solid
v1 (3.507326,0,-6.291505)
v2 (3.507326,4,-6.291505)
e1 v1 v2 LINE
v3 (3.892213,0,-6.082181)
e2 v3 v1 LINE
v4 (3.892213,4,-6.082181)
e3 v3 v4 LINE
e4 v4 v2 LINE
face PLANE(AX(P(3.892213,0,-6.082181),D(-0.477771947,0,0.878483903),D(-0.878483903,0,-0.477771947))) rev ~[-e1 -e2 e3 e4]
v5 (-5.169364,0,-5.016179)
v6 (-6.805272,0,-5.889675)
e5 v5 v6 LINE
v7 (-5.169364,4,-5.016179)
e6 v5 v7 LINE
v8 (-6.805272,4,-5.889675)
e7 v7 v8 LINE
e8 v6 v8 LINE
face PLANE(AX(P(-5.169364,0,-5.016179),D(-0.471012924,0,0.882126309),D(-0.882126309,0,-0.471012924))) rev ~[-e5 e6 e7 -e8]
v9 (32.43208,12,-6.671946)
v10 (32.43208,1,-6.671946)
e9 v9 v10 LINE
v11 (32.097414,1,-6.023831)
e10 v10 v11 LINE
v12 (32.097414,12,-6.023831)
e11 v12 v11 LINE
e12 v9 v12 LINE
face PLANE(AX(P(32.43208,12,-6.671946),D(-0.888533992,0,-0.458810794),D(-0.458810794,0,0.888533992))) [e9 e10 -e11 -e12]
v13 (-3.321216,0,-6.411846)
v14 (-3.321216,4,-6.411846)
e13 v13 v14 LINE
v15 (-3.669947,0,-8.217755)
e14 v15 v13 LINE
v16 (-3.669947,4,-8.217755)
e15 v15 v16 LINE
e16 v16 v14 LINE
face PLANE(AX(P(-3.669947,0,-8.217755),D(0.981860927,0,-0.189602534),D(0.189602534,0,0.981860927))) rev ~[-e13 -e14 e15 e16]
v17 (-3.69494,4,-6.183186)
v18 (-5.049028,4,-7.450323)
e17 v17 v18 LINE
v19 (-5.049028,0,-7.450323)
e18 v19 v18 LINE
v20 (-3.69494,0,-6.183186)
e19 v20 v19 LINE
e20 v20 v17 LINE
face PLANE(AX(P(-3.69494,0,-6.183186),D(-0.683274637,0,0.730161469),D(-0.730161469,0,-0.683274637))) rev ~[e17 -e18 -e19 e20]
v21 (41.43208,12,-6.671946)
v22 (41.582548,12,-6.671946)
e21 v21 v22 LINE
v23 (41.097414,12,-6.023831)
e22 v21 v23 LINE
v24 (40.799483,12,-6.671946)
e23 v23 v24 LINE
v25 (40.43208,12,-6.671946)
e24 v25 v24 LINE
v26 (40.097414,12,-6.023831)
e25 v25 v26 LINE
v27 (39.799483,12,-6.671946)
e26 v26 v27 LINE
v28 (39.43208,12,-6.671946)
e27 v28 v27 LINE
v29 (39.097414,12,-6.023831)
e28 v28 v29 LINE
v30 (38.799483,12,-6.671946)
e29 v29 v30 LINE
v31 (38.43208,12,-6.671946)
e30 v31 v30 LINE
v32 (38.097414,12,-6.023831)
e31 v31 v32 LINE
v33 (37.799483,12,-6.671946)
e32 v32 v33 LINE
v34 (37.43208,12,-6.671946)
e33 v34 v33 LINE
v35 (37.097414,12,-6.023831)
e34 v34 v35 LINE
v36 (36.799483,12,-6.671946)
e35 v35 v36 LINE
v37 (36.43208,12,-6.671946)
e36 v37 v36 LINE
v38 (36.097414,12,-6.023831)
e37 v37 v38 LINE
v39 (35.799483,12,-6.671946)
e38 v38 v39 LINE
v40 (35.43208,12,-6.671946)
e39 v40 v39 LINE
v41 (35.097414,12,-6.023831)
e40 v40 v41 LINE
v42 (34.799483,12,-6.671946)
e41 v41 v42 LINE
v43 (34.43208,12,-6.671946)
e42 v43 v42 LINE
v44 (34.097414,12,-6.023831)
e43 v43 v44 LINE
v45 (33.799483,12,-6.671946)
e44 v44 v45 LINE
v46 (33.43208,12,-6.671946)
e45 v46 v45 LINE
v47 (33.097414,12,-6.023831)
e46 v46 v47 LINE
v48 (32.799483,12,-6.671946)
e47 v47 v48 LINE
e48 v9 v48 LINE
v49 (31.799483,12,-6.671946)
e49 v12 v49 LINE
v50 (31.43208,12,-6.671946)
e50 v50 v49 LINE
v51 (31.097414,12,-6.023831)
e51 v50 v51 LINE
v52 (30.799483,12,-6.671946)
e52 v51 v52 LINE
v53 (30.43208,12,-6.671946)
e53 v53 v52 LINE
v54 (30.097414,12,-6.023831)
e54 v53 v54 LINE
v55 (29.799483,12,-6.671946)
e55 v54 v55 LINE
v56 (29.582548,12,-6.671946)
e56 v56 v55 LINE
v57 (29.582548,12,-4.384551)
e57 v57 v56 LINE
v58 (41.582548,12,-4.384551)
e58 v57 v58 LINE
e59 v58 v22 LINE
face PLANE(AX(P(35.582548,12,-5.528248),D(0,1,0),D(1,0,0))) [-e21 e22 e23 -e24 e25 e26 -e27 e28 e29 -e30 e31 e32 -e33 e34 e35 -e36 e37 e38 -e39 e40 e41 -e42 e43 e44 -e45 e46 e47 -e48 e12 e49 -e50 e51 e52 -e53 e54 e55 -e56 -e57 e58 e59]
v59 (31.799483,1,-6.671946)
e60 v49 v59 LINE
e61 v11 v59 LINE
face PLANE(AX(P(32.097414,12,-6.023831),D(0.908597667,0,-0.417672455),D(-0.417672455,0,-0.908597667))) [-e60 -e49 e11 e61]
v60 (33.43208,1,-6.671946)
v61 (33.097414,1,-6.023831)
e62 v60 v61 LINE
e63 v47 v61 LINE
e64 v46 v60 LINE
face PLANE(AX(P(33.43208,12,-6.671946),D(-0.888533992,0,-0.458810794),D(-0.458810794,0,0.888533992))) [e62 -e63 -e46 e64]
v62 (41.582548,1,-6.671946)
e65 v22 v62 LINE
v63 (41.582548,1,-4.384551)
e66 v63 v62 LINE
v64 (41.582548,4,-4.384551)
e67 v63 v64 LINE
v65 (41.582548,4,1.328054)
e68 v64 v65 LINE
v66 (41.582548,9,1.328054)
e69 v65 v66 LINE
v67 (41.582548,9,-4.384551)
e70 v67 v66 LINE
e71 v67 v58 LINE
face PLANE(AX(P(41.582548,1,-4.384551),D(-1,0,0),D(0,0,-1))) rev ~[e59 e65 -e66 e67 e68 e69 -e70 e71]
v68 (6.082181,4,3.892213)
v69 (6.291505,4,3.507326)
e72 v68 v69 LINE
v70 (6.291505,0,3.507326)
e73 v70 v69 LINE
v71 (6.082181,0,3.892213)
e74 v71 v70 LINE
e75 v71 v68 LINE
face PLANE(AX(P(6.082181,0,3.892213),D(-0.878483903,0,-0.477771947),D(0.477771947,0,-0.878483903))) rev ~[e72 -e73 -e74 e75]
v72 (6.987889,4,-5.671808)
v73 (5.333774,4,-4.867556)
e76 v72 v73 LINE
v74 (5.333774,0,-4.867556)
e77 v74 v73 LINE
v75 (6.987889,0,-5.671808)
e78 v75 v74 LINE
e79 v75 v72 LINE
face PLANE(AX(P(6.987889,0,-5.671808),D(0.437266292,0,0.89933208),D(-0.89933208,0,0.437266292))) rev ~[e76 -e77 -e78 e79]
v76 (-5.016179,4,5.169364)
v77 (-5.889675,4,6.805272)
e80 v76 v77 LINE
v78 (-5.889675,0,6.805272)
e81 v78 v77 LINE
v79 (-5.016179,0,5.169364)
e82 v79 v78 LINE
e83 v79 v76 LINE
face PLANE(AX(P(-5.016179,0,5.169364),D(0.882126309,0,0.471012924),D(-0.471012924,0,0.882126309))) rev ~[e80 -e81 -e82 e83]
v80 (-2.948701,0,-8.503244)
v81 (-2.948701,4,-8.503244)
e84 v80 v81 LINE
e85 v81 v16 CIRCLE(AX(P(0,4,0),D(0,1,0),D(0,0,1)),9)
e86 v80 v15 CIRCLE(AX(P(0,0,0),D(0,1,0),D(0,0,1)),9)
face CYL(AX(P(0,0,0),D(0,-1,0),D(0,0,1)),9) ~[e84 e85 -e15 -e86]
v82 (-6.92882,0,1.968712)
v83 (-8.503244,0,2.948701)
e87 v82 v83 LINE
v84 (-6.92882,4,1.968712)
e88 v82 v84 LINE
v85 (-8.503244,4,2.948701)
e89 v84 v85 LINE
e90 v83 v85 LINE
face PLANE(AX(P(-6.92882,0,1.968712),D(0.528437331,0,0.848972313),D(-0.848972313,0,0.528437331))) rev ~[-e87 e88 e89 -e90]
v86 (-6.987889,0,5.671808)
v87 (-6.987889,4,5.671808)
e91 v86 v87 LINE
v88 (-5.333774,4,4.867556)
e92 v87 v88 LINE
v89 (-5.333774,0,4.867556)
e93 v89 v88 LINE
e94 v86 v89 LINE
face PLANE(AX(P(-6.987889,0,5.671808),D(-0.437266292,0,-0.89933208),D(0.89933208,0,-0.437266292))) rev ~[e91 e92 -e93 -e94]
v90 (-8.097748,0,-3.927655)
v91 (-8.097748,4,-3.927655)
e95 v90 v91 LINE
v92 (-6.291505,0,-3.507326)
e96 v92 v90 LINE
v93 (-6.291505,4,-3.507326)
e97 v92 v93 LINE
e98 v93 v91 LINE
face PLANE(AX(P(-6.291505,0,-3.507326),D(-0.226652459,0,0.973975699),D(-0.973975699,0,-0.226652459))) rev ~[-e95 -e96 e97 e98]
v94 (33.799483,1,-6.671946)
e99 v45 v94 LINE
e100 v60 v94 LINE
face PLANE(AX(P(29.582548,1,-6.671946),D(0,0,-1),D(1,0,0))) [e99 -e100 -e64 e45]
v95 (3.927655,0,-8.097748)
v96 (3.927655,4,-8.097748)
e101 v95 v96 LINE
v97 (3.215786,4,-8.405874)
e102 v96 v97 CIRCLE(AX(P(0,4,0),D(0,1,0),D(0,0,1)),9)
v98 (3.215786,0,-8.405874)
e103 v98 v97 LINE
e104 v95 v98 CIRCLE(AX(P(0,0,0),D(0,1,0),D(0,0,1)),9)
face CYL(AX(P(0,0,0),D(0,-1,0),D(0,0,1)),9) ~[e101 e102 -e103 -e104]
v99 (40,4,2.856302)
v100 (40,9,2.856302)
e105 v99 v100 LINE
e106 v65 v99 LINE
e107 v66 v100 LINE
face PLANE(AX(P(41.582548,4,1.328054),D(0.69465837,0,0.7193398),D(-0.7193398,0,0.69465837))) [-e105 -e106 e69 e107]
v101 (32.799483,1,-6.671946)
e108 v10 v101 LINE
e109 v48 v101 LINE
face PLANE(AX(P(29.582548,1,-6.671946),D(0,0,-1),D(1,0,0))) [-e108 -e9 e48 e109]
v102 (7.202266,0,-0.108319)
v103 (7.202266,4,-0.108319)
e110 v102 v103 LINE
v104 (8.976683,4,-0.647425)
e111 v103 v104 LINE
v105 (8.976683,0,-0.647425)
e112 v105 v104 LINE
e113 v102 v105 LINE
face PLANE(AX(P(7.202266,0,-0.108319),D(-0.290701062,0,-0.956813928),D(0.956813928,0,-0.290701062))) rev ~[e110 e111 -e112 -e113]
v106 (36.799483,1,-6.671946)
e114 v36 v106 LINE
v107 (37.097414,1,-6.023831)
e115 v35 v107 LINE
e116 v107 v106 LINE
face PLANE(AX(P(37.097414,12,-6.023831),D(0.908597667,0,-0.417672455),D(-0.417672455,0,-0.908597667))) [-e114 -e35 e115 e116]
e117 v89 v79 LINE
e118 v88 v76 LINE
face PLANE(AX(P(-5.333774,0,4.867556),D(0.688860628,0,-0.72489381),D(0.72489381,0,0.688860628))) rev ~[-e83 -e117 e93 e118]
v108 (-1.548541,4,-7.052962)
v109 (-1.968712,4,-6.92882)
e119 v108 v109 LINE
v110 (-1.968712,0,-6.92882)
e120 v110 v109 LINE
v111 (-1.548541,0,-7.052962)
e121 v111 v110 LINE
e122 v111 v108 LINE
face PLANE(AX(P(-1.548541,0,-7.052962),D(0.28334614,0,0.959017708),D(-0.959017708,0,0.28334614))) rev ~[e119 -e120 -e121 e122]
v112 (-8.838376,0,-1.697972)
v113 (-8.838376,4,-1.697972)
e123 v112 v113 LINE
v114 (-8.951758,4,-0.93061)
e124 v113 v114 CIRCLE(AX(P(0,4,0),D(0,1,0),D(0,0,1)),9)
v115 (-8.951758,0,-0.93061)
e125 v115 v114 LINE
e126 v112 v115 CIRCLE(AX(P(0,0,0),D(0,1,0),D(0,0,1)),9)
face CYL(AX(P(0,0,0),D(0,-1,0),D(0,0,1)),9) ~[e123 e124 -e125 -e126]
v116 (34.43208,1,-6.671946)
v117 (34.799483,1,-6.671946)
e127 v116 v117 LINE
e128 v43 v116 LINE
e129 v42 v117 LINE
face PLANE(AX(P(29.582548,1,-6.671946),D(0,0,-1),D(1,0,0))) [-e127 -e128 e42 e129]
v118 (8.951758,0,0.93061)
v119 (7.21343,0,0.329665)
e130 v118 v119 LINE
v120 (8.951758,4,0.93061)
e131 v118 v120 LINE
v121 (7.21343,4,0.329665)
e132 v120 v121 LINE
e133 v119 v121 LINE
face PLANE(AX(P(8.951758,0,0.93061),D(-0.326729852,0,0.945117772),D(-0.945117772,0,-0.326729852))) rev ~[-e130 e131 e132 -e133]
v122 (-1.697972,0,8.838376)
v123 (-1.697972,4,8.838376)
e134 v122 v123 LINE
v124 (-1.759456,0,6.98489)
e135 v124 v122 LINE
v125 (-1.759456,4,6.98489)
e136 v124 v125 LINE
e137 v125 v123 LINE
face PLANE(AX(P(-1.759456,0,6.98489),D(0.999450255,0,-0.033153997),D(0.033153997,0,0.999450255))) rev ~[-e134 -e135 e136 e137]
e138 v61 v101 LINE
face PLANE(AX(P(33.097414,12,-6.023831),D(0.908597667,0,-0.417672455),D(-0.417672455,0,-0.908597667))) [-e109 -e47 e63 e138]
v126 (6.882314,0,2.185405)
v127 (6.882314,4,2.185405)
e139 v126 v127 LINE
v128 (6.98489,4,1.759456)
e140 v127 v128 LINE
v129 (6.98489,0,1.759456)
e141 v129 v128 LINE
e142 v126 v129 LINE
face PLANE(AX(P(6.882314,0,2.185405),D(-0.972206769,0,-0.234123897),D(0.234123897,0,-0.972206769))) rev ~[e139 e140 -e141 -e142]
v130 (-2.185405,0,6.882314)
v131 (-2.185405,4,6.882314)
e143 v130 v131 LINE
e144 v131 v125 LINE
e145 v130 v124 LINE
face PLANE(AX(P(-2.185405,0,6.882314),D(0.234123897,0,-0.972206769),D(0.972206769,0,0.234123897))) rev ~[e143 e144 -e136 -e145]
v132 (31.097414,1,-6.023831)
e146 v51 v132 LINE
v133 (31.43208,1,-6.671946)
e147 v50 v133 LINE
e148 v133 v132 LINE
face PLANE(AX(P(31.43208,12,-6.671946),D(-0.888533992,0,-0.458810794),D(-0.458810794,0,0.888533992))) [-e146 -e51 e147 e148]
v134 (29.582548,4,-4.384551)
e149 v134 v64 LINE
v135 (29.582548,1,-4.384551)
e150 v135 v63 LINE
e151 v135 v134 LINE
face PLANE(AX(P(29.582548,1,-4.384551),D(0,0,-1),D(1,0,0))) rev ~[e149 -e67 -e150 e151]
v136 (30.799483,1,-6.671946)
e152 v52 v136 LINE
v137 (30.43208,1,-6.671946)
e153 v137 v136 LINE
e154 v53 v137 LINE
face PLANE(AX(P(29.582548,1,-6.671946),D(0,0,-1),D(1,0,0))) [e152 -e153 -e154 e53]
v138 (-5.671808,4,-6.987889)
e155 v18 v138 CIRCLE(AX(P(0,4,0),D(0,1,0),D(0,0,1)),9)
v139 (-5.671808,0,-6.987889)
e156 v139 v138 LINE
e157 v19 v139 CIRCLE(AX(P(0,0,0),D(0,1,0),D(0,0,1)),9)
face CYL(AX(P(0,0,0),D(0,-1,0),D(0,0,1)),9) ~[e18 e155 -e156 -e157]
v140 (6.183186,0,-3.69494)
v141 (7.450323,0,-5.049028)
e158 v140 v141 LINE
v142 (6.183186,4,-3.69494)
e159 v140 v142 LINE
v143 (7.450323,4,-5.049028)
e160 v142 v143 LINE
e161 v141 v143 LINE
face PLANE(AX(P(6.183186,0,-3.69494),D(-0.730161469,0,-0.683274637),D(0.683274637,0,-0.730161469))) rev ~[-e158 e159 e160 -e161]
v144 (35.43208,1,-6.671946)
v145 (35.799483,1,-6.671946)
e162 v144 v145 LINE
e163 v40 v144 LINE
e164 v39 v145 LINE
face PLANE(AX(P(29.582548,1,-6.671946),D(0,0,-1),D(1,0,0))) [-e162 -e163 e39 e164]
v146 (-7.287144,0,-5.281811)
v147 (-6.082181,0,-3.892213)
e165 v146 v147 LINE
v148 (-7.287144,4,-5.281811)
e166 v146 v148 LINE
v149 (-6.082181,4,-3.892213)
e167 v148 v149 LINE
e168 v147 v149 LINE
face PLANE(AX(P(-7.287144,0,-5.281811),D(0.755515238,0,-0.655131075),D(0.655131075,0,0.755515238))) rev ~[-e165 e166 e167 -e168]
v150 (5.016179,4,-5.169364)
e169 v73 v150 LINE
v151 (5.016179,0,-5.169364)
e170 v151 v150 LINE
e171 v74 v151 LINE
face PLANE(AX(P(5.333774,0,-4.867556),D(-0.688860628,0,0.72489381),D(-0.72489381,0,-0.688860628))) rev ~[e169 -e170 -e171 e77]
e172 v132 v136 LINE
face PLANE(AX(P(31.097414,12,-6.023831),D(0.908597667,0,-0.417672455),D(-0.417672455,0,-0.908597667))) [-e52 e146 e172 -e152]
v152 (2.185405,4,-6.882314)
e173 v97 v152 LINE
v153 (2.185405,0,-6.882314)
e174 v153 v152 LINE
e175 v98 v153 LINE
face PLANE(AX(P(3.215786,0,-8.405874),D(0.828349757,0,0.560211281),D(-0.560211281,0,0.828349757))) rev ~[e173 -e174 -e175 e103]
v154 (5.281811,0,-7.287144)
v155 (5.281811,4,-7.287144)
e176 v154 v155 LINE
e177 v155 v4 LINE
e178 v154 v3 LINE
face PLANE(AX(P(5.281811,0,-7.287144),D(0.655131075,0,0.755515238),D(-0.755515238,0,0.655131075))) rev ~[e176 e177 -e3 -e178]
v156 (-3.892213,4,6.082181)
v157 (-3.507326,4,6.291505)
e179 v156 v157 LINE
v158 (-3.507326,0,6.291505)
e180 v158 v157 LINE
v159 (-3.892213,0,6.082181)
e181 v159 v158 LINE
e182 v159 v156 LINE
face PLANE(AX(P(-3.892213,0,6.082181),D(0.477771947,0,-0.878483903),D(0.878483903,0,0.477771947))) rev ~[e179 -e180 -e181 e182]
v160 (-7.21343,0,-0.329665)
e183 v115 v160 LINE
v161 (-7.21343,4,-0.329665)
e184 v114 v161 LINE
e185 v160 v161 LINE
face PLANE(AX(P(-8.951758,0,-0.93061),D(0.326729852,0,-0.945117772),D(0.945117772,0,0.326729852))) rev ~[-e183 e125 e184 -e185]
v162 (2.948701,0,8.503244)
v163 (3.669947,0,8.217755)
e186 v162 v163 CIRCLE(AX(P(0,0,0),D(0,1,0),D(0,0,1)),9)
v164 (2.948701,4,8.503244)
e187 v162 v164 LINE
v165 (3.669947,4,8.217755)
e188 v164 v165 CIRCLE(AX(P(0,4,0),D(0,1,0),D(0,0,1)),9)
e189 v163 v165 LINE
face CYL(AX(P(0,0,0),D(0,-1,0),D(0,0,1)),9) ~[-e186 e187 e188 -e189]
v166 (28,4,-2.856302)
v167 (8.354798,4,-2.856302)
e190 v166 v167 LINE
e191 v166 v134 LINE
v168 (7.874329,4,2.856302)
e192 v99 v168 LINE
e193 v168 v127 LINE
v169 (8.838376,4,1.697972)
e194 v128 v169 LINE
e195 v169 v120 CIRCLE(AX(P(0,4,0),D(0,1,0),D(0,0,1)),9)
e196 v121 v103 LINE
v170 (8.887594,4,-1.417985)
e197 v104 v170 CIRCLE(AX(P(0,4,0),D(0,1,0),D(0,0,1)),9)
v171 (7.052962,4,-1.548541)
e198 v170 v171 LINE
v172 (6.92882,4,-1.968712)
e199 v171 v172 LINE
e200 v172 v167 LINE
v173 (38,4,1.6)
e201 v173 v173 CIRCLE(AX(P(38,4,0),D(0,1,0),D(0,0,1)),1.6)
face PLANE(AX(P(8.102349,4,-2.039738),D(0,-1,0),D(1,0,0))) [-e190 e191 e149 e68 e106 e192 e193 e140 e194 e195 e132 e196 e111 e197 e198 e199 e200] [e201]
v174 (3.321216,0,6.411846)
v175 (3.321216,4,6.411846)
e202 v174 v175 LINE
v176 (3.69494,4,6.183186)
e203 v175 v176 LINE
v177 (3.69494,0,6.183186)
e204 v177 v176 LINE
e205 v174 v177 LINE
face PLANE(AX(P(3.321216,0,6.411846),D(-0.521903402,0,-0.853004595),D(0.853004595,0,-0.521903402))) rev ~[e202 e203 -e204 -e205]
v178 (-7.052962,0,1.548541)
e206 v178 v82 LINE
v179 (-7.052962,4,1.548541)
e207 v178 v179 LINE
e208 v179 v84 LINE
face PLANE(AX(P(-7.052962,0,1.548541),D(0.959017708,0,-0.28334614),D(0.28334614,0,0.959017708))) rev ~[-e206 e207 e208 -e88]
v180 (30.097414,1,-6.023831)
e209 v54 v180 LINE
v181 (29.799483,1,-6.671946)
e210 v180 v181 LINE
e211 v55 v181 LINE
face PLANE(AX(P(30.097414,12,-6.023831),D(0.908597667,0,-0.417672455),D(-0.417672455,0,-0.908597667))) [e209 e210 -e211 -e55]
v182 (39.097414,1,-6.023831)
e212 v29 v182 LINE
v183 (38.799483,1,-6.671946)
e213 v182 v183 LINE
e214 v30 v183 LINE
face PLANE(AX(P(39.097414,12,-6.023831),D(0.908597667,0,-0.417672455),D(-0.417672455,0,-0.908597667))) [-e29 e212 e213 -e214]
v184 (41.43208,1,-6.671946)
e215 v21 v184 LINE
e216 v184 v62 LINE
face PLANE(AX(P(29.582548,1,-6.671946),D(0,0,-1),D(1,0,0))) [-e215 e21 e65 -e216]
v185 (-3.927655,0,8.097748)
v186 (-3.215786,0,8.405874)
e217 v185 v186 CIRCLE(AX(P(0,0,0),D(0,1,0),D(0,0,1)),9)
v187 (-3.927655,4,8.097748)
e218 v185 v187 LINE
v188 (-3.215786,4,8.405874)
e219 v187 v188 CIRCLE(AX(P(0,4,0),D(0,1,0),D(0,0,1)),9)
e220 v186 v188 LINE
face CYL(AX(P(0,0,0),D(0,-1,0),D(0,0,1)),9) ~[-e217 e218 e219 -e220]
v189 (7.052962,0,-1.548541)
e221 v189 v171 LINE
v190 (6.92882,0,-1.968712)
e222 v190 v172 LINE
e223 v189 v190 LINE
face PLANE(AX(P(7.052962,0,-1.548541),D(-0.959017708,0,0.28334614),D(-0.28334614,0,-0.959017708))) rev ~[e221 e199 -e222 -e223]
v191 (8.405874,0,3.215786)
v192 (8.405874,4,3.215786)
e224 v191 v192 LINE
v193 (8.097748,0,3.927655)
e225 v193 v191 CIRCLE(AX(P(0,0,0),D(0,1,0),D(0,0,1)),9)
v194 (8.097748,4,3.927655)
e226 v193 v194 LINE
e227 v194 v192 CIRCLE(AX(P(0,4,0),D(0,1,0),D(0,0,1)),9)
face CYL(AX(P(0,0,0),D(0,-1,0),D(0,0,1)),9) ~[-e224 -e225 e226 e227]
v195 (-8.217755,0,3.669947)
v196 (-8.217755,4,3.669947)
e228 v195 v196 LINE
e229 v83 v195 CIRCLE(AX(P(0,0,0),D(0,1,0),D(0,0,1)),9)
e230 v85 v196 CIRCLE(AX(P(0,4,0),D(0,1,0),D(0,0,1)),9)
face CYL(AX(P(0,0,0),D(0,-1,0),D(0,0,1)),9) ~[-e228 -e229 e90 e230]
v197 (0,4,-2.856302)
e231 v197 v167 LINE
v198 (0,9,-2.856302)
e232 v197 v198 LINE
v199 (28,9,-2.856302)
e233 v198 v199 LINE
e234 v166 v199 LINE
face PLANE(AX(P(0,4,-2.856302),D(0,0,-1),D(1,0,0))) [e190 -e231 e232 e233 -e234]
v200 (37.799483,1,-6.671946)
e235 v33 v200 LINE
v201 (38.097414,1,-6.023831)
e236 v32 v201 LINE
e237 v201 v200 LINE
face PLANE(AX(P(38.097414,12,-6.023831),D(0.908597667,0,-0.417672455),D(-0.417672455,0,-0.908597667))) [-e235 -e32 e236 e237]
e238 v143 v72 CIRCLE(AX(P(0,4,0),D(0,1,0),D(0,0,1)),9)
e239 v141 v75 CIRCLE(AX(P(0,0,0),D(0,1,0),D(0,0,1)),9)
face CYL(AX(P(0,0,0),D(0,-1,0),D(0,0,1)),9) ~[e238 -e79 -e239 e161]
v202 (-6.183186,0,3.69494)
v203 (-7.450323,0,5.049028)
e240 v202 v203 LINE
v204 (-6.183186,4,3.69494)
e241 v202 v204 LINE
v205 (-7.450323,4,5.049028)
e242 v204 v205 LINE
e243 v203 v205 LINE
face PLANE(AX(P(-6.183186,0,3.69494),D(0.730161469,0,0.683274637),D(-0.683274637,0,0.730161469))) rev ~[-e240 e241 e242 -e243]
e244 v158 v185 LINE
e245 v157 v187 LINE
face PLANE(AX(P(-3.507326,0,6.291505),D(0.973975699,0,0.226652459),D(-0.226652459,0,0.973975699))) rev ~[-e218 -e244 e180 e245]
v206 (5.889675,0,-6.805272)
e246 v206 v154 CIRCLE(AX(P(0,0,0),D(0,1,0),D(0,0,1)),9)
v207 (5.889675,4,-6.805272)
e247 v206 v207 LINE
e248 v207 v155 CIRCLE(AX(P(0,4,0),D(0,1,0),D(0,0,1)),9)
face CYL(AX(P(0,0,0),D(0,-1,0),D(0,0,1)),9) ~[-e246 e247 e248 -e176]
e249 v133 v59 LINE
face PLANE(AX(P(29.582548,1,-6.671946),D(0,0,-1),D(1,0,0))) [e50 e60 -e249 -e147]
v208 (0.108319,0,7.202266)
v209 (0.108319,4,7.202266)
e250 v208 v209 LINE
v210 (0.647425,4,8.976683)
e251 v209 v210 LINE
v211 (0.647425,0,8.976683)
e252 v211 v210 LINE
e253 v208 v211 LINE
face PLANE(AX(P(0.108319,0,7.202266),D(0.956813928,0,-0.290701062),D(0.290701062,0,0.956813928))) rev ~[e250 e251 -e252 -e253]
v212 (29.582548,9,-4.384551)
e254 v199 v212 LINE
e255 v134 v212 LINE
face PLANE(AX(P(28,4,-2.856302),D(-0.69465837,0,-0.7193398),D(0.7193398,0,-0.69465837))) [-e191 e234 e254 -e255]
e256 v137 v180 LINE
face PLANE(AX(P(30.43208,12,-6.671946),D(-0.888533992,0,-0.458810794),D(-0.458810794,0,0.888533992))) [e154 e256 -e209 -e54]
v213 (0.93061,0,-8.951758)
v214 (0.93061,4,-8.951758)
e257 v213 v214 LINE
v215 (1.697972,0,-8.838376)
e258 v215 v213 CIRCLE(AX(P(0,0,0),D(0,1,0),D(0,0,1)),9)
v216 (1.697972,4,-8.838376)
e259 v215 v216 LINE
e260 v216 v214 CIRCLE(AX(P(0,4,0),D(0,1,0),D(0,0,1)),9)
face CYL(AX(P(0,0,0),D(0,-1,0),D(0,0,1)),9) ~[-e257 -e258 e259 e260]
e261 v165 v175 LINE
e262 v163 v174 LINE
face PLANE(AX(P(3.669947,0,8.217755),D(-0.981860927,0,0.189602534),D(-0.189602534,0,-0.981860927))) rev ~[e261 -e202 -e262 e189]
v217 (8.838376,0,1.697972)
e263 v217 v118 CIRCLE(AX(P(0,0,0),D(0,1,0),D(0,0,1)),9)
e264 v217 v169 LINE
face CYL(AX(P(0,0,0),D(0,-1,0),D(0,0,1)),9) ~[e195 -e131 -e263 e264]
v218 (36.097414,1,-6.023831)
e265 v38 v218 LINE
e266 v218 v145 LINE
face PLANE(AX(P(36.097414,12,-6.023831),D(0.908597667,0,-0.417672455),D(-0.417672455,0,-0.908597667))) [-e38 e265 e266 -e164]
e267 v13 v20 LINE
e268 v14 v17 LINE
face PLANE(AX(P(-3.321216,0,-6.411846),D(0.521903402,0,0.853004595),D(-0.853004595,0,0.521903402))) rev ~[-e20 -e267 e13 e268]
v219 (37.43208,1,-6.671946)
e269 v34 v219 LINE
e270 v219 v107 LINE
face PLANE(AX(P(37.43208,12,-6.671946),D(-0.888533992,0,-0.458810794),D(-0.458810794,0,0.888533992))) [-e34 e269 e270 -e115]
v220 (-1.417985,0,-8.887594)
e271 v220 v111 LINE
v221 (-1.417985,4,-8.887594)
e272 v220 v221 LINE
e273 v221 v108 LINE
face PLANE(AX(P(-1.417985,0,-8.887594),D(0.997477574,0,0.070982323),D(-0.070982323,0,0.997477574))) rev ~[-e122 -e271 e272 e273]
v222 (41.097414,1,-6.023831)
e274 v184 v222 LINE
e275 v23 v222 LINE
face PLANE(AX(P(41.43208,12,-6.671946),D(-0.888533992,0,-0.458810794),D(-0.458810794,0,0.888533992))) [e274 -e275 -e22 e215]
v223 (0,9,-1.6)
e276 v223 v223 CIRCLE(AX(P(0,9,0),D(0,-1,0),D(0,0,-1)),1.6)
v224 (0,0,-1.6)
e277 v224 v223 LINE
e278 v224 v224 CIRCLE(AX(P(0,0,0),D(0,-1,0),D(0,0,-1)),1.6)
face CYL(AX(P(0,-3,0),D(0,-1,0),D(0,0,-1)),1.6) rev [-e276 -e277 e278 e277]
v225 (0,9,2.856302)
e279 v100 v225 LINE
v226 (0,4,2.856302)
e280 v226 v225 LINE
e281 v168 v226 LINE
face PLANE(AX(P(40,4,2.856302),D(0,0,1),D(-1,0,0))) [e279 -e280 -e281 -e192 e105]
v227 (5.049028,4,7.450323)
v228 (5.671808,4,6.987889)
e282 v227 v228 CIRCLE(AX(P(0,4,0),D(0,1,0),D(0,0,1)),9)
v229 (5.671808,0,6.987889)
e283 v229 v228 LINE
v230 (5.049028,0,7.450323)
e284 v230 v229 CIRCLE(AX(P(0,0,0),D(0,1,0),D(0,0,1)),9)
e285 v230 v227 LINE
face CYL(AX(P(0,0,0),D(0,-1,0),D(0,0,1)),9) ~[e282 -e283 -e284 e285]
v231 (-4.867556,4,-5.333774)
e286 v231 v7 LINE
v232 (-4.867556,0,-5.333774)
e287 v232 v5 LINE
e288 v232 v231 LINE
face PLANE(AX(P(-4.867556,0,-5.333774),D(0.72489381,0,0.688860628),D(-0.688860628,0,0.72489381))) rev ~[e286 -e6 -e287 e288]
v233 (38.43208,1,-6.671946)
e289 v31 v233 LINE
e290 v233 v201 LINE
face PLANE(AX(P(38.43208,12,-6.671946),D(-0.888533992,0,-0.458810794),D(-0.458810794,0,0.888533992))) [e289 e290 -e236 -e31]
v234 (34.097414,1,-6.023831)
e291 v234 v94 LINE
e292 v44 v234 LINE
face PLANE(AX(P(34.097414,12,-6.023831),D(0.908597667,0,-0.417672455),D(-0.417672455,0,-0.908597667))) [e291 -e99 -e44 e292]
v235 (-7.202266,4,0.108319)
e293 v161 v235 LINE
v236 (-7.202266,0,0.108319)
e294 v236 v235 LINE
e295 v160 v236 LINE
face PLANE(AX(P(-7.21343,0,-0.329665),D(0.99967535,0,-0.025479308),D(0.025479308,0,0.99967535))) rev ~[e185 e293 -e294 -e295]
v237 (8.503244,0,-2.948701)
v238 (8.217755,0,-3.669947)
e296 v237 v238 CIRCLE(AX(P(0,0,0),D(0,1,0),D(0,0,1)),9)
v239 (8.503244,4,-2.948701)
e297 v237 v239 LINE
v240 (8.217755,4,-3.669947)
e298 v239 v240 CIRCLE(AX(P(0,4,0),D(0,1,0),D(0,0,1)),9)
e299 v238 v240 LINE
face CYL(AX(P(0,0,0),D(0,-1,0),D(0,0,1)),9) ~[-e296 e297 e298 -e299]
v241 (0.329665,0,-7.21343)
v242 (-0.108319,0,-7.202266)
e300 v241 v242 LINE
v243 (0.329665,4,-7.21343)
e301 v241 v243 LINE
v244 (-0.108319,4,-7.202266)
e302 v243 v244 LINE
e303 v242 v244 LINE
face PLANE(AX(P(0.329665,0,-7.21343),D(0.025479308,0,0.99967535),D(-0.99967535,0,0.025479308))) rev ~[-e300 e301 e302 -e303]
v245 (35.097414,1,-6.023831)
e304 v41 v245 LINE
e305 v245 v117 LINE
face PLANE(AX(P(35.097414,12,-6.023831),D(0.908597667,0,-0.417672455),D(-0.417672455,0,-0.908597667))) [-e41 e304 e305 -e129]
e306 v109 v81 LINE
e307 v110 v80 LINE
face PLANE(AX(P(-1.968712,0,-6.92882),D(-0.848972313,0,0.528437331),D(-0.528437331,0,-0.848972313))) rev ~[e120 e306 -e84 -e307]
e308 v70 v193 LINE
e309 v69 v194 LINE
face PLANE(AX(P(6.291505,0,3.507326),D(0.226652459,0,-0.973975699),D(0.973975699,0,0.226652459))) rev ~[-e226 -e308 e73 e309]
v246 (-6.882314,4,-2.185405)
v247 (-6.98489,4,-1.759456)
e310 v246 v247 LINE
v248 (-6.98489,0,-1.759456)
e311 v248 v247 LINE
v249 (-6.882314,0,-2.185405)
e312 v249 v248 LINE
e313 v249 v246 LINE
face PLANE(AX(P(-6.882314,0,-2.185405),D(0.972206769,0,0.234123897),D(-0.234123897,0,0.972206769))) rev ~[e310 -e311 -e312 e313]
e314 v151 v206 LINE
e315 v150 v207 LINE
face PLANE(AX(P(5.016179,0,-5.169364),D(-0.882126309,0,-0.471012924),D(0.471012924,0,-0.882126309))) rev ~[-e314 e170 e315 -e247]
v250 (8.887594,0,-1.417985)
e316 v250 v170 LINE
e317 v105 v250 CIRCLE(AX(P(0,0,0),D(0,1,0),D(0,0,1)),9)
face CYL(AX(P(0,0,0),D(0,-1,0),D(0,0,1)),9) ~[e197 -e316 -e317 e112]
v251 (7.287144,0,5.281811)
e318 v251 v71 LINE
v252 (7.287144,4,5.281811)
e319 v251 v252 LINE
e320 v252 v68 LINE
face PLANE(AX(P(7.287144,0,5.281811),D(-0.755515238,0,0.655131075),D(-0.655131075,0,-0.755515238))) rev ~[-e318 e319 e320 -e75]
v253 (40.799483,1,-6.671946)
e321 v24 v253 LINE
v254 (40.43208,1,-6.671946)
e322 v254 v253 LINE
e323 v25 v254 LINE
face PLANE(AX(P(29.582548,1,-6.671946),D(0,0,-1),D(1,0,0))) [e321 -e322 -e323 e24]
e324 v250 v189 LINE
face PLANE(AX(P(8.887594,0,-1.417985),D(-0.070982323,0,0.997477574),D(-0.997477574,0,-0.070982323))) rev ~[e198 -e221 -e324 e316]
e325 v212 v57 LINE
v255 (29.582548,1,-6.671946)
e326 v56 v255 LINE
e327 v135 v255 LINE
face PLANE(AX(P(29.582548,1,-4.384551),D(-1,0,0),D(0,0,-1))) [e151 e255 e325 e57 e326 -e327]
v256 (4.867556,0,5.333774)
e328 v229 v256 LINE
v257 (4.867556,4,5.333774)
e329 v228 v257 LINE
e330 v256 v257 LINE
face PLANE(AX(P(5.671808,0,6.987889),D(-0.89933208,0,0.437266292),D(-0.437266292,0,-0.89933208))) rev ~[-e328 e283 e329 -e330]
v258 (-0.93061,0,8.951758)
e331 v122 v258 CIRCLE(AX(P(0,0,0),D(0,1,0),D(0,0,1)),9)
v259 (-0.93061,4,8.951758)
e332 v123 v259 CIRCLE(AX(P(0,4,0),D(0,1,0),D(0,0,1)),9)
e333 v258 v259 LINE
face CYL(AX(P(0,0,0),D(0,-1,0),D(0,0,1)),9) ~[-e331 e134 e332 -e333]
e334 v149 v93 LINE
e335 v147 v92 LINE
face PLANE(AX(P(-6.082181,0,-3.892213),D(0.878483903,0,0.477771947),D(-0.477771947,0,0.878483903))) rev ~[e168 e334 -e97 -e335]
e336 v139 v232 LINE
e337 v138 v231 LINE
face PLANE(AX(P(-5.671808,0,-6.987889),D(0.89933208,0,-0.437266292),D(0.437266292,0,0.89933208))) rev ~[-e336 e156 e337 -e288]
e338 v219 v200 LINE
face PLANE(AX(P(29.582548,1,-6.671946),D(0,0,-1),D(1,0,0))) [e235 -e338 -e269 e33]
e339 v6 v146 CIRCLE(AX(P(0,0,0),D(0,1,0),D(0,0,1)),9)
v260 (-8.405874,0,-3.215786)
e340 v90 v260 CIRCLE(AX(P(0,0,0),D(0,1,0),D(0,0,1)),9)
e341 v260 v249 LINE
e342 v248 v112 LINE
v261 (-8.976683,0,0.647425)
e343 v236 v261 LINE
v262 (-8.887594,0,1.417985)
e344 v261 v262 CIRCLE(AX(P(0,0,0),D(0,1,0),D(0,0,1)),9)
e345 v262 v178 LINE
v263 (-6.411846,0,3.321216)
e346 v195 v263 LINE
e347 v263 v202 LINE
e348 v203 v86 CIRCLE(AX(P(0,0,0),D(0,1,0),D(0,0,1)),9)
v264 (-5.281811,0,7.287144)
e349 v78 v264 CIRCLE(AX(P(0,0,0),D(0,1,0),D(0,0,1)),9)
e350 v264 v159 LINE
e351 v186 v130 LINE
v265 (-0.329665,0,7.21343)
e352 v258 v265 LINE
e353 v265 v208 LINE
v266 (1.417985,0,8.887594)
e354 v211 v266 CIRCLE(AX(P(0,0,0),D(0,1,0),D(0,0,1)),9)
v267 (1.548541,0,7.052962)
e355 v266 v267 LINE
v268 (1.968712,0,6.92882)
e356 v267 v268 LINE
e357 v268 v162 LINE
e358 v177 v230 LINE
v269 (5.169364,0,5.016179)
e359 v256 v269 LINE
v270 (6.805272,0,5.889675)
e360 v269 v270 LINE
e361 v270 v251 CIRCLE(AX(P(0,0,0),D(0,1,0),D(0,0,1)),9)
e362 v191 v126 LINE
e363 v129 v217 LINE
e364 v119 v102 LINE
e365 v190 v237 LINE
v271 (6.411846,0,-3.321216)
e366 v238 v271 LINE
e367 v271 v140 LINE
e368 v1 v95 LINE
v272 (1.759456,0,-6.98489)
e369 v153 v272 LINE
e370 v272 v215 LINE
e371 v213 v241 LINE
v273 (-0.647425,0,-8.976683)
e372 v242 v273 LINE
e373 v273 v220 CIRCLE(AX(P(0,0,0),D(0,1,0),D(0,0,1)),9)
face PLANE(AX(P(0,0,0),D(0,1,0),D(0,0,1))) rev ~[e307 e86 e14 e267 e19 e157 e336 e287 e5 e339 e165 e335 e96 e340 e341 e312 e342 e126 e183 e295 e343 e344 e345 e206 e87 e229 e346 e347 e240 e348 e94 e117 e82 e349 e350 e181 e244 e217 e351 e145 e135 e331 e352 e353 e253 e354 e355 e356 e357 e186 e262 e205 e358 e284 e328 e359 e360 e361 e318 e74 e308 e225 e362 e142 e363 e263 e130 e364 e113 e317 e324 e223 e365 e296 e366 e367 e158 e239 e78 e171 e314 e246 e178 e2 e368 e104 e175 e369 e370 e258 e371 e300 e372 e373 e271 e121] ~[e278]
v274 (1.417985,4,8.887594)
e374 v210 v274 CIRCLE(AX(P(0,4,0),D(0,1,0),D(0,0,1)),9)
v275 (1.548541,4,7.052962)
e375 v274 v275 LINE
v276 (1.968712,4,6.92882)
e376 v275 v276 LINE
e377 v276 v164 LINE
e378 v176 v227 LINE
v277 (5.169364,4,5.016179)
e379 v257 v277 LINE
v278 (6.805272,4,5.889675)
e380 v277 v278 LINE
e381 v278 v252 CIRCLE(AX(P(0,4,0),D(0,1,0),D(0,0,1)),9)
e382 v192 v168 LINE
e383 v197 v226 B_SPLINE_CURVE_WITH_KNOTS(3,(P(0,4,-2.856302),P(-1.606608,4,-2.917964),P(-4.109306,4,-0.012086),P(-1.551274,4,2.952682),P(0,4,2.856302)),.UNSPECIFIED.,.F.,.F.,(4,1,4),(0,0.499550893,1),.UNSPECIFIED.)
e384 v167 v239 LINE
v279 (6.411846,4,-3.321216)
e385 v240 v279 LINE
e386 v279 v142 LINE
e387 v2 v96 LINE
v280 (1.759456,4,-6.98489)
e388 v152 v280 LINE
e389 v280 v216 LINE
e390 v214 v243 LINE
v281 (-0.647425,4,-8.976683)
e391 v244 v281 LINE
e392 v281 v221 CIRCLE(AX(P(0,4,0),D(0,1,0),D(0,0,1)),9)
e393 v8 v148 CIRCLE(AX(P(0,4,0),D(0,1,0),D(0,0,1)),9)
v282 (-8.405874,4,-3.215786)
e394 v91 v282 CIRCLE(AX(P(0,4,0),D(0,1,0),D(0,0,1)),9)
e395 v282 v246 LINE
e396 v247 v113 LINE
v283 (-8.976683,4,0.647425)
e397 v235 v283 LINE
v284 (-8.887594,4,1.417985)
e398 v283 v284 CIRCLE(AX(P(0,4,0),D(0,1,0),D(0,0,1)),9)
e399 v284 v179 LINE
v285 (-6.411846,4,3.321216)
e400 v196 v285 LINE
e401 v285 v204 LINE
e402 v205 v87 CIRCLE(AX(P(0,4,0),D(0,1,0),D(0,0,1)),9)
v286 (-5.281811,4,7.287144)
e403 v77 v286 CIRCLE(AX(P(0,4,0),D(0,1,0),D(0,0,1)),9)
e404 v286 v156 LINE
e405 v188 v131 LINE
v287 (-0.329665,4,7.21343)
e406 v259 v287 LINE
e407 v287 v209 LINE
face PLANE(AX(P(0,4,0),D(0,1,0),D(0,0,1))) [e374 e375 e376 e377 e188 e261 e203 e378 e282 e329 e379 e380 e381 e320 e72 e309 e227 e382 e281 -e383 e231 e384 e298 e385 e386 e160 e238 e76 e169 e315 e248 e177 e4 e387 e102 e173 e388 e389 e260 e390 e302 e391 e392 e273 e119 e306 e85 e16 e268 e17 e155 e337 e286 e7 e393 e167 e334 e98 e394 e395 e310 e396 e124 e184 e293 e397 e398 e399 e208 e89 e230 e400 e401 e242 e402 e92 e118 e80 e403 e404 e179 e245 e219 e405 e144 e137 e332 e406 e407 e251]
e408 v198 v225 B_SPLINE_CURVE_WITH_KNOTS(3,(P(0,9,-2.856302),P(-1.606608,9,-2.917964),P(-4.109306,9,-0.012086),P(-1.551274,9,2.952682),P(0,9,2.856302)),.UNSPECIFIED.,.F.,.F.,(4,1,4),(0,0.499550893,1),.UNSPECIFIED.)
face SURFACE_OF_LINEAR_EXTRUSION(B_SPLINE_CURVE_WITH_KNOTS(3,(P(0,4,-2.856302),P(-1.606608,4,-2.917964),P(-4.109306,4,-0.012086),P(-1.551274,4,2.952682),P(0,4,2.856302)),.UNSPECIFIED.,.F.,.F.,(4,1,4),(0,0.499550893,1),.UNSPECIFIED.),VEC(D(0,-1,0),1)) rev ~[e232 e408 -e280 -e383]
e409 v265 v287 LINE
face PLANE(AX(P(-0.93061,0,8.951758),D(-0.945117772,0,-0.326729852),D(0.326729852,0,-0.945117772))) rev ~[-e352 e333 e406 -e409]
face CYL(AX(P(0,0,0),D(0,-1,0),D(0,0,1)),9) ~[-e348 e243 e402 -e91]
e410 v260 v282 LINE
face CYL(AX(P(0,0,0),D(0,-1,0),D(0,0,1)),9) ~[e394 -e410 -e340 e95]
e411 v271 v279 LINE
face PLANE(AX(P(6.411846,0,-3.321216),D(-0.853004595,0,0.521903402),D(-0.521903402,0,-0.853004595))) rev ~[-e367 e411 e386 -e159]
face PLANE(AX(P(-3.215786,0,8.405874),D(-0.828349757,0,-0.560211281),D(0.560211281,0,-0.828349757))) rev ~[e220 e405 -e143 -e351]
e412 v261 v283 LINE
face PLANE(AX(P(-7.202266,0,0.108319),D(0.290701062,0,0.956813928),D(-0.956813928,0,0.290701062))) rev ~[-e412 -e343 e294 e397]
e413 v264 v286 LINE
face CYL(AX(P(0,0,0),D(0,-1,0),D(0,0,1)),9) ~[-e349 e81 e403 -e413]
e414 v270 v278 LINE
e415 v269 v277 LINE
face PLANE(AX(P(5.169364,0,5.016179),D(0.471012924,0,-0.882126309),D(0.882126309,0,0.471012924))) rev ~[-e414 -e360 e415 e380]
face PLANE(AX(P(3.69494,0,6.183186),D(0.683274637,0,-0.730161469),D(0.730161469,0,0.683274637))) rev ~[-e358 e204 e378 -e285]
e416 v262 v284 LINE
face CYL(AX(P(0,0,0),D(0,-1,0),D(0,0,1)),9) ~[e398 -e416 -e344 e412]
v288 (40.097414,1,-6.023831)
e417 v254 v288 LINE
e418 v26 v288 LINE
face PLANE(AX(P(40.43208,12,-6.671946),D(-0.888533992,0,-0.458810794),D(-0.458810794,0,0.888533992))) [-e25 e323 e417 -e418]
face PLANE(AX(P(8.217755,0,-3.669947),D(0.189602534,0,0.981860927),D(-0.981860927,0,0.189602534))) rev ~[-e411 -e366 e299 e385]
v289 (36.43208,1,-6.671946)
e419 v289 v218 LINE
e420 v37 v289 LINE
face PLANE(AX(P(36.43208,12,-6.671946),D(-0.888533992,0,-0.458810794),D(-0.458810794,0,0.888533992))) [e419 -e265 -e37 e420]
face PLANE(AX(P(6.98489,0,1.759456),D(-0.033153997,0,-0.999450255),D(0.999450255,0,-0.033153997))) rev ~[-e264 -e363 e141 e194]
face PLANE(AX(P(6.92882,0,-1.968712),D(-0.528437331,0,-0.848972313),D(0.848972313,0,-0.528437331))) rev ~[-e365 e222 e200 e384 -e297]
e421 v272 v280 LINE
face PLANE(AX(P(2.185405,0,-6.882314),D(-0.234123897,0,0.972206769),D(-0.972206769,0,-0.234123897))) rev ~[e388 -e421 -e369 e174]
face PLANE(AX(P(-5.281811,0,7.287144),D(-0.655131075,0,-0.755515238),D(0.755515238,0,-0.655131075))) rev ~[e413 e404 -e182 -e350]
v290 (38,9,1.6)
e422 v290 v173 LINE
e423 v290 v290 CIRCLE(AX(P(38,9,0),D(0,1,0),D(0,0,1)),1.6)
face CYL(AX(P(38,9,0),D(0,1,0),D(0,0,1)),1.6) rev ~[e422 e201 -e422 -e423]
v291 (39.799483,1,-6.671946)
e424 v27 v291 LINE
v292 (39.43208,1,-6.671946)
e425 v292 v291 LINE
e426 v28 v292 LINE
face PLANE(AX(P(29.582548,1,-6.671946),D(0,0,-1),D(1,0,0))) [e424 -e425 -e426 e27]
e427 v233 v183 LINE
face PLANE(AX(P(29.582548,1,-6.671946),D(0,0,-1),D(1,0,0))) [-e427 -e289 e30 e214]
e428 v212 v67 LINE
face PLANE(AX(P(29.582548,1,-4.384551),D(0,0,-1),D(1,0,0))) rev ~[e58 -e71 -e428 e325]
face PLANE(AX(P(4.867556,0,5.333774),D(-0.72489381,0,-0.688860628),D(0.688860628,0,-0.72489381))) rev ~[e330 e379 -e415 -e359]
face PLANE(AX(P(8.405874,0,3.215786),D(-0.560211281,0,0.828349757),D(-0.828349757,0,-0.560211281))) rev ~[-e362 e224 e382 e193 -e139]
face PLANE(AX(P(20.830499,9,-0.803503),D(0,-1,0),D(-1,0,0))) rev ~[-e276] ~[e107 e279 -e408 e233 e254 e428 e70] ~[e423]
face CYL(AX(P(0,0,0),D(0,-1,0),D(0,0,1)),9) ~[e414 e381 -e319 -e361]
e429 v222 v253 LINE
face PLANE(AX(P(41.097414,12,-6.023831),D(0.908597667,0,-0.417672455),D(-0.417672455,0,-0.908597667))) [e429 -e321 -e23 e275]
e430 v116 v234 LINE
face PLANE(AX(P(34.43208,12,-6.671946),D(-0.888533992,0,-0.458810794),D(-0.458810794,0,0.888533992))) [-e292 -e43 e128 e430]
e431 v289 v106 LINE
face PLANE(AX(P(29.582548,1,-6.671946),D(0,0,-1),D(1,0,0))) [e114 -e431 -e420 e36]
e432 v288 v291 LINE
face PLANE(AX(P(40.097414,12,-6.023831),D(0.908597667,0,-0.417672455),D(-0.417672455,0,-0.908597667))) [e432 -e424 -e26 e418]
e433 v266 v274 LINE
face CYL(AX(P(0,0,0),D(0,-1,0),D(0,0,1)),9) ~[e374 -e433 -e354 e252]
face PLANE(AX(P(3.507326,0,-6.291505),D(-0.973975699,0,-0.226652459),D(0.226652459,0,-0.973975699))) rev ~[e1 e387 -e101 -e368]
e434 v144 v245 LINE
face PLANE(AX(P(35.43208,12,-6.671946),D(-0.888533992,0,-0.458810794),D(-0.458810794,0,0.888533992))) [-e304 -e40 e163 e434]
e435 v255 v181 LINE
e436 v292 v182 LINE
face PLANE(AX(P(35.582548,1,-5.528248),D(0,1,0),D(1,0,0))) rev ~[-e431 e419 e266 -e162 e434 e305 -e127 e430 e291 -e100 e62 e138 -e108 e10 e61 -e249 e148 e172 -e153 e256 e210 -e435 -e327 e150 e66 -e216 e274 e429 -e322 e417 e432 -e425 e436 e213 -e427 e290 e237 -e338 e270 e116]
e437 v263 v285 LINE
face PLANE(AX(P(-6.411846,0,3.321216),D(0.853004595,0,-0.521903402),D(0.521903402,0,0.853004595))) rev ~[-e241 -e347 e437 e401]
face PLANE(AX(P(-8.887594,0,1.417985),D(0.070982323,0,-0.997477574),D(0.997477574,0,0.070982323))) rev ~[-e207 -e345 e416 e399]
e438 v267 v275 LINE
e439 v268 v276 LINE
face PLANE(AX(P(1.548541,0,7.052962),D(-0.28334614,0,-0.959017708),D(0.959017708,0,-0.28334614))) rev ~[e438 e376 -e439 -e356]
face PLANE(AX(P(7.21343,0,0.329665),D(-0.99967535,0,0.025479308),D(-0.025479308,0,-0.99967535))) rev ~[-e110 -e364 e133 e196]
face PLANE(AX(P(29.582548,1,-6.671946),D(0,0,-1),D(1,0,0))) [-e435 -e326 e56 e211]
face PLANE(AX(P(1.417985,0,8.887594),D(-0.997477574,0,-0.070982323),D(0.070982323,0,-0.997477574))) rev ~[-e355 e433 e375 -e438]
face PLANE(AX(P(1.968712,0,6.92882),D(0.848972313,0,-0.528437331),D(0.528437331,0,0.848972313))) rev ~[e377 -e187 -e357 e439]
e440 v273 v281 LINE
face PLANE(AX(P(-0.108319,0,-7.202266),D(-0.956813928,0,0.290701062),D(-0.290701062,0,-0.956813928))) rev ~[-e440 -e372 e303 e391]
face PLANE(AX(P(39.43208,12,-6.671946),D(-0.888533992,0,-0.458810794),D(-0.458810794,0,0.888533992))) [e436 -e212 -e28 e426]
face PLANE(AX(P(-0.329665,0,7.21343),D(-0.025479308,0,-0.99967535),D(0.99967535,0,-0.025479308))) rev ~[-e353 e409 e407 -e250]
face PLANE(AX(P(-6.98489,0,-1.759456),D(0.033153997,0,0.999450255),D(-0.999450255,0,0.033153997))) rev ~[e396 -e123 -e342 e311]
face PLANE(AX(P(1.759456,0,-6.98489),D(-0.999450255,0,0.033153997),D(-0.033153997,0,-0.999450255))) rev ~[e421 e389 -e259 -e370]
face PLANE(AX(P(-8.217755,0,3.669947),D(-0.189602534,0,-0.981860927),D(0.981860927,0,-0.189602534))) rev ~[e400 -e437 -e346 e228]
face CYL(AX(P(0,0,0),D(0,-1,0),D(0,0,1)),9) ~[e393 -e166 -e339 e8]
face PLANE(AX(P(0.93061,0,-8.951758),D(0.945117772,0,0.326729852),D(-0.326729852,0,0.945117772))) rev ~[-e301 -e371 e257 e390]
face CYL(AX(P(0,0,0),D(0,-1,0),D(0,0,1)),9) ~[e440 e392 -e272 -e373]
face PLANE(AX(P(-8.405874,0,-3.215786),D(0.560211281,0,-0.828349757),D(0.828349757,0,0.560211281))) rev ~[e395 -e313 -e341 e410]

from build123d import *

# Parameters (mm, degrees)
ESQUISSE1_R                  = 9
BOSS_EXTRU_1_DEPTH           = 4
BOSS_EXTRU_2_DEPTH           = 5
ENL_V_MAT_EXTRU_1_DEPTH      = 10
ENL_V_MAT_EXTRU_1_DEPTH_BACK = 12
ESQUISSE3_R                  = 1.6
ENL_V_MAT_EXTRU_2_DEPTH      = 4
BOSS_EXTRU_3_DEPTH           = 3
BOSS_EXTRU_3_DEPTH_BACK      = 8
ESQUISSE5_W                  = 12
ESQUISSE5_H                  = 2.28739505
ENL_V_MAT_EXTRU_3_DEPTH      = 11
ESQUISSE7_R                  = 1.6
ENL_V_MAT_EXTRU_4_DEPTH      = 11


with BuildPart() as part:
    # Esquisse1 → Boss.-Extru.1 (new body)
    with BuildSketch(Plane(origin=(0, 0, 0), x_dir=(1, 0, 0), z_dir=(0, 1, 0))):
        with Locations(Location((0, 0, 0), (0, 0, 270))):
            Circle(ESQUISSE1_R)
    extrude(amount=BOSS_EXTRU_1_DEPTH)

    # Esquisse2 → Boss.-Extru.2 (add)
    with BuildSketch(Plane(origin=(0, 4, 0), x_dir=(1, 0, 0), z_dir=(0, 1, 0))):
        with BuildLine():
            Line((0, 2.856302475), (28, 2.856302475))
            Line((28, 2.856302475), (29.582547561, 4.38455089))
            Line((29.582547561, 4.38455089), (29.582547561, 6.67194594))
            Line((29.582547561, 6.67194594), (41.582547561, 6.67194594))
            Line((41.582547561, 6.67194594), (41.582547561, -1.32805406))
            Line((41.582547561, -1.32805406), (40, -2.856302475))
            Line((40, -2.856302475), (28, -2.856302475))
            Line((28, -2.856302475), (0, -2.856302475))
            add(Edge.make_bspline(
                [(0, 2.856302475), (-1.606608321, 2.917963895), (-4.109305793, 0.012086108), (-1.551274166, -2.952682253), (0, -2.856302475)],
                knots=[0, 0, 0, 0, 0.499550893, 1, 1, 1, 1], degree=3))
        make_face()
    extrude(amount=BOSS_EXTRU_2_DEPTH)

    # Esquisse3 → Enlèv. mat.-Extru.1 (cut, two sides: drawn at the far end of the back side and taken through both)
    with BuildSketch(Plane(origin=(0, 9, 0), x_dir=(1, 0, 0), z_dir=(0, 1, 0)).offset(-ENL_V_MAT_EXTRU_1_DEPTH_BACK)):
        with Locations(Location((0, 0, 0), (0, 0, 90))):
            Circle(ESQUISSE3_R)
    extrude(amount=ENL_V_MAT_EXTRU_1_DEPTH + ENL_V_MAT_EXTRU_1_DEPTH_BACK, mode=Mode.SUBTRACT)

    # Esquisse4 → Enlèv. mat.-Extru.2 (cut)
    with BuildSketch(Plane.XZ):
        Polygon((-1.417985005, -8.887593517), (-1.548540755, -7.052961635), (-1.968711567, -6.928820259), (-2.948701489, -8.503244059), (-2.361037532, -9.099305947), align=None)
        Polygon((-3.669946805, -8.217754587), (-3.321216304, -6.411845955), (-3.69493999, -6.183186386), (-5.04902843, -7.45032294), (-4.635660805, -8.178173136), align=None)
        Polygon((-5.671807795, -6.987889262), (-4.86755645, -5.33377357), (-5.169364359, -5.016178579), (-6.805272427, -5.889674625), (-6.594371455, -6.699711341), align=None)
        Polygon((-7.287144457, -5.281810832), (-6.082180668, -3.892213331), (-6.291505089, -3.507326492), (-8.097748355, -3.927654717), (-8.103686589, -4.76467529), align=None)
        Polygon((-8.405874267, -3.215785722), (-6.882314325, -2.185405185), (-6.984890145, -1.7594559), (-8.838376114, -1.697971632), (-9.060748873, -2.504934491), align=None)
        Polygon((-8.951757637, -0.93061013), (-7.213429634, -0.329665287), (-7.202266481, 0.108318704), (-8.976683148, 0.647425415), (-9.400336095, -0.074486547), align=None)
        Polygon((-8.887593517, 1.417985005), (-7.052961635, 1.548540755), (-6.928820259, 1.968711567), (-8.503244059, 2.948701489), (-9.099305947, 2.361037532), align=None)
        Polygon((-8.217754587, 3.669946805), (-6.411845955, 3.321216304), (-6.183186386, 3.69493999), (-7.45032294, 5.04902843), (-8.178173136, 4.635660805), align=None)
        Polygon((-6.987889262, 5.671807795), (-5.33377357, 4.86755645), (-5.016178579, 5.169364359), (-5.889674625, 6.805272427), (-6.699711341, 6.594371455), align=None)
        Polygon((-5.281810832, 7.287144457), (-3.892213331, 6.082180668), (-3.507326492, 6.291505089), (-3.927654717, 8.097748355), (-4.76467529, 8.103686589), align=None)
        Polygon((-3.215785722, 8.405874267), (-2.185405185, 6.882314325), (-1.7594559, 6.984890145), (-1.697971632, 8.838376114), (-2.504934491, 9.060748873), align=None)
        Polygon((-0.93061013, 8.951757637), (-0.329665287, 7.213429634), (0.108318704, 7.202266481), (0.647425415, 8.976683148), (-0.074486547, 9.400336095), align=None)
        Polygon((1.417985005, 8.887593517), (1.548540755, 7.052961635), (1.968711567, 6.928820259), (2.948701489, 8.503244059), (2.361037532, 9.099305947), align=None)
        Polygon((3.669946805, 8.217754587), (3.321216304, 6.411845955), (3.69493999, 6.183186386), (5.04902843, 7.45032294), (4.635660805, 8.178173136), align=None)
        Polygon((5.671807795, 6.987889262), (4.86755645, 5.33377357), (5.169364359, 5.016178579), (6.805272427, 5.889674625), (6.594371455, 6.699711341), align=None)
        Polygon((7.287144457, 5.281810832), (6.082180668, 3.892213331), (6.291505089, 3.507326492), (8.097748355, 3.927654717), (8.103686589, 4.76467529), align=None)
        Polygon((8.405874267, 3.215785722), (6.882314325, 2.185405185), (6.984890145, 1.7594559), (8.838376114, 1.697971632), (9.060748873, 2.504934491), align=None)
        Polygon((8.951757637, 0.93061013), (7.213429634, 0.329665287), (7.202266481, -0.108318704), (8.976683148, -0.647425415), (9.400336095, 0.074486547), align=None)
        Polygon((8.887593517, -1.417985005), (7.052961635, -1.548540755), (6.928820259, -1.968711567), (8.503244059, -2.948701489), (9.099305947, -2.361037532), align=None)
        Polygon((8.217754587, -3.669946805), (6.411845955, -3.321216304), (6.183186386, -3.69493999), (7.45032294, -5.04902843), (8.178173136, -4.635660805), align=None)
        Polygon((6.987889262, -5.671807795), (5.33377357, -4.86755645), (5.016178579, -5.169364359), (5.889674625, -6.805272427), (6.699711341, -6.594371455), align=None)
        Polygon((5.281810832, -7.287144457), (3.892213331, -6.082180668), (3.507326492, -6.291505089), (3.927654717, -8.097748355), (4.76467529, -8.103686589), align=None)
        Polygon((3.215785722, -8.405874267), (2.185405185, -6.882314325), (1.7594559, -6.984890145), (1.697971632, -8.838376114), (2.504934491, -9.060748873), align=None)
        Polygon((0.93061013, -8.951757637), (0.329665287, -7.213429634), (-0.108318704, -7.202266481), (-0.647425415, -8.976683148), (0.074486547, -9.400336095), align=None)
    extrude(amount=-ENL_V_MAT_EXTRU_2_DEPTH, mode=Mode.SUBTRACT)

    # Esquisse5 → Boss.-Extru.3 (add, two sides: drawn at the far end of the back side and taken through both)
    with BuildSketch(Plane(origin=(0, 9, 0), x_dir=(1, 0, 0), z_dir=(0, 1, 0)).offset(-BOSS_EXTRU_3_DEPTH_BACK)):
        with Locations((35.582547561, 5.528248415)):
            Rectangle(ESQUISSE5_W, ESQUISSE5_H)
    extrude(amount=BOSS_EXTRU_3_DEPTH + BOSS_EXTRU_3_DEPTH_BACK)

    # Esquisse6 → Enlèv. mat.-Extru.3 (cut)
    with BuildSketch(Plane(origin=(0, 12, 0), x_dir=(1, 0, 0), z_dir=(0, 1, 0))):
        Polygon((41.432080312, 6.67194594), (41.097414224, 6.023830859), (40.799482778, 6.67194594), (41.122702548, 7.12855331), align=None)
        Polygon((40.432080312, 6.67194594), (40.097414224, 6.023830859), (39.799482778, 6.67194594), (40.122702548, 7.12855331), align=None)
        Polygon((39.432080312, 6.67194594), (39.097414224, 6.023830859), (38.799482778, 6.67194594), (39.097414224, 7.165876079), align=None)
        Polygon((38.432080312, 6.67194594), (38.097414224, 6.023830859), (37.799482778, 6.67194594), (38.205026004, 7.165876079), align=None)
        Polygon((37.432080312, 6.67194594), (37.097414224, 6.023830859), (36.799482778, 6.67194594), (37.097414224, 7.165876079), align=None)
        Polygon((36.432080312, 6.67194594), (36.097414224, 6.023830859), (35.799482778, 6.67194594), (36.097414224, 7.165876079), align=None)
        Polygon((35.432080312, 6.67194594), (35.097414224, 6.023830859), (34.799482778, 6.67194594), (35.097414224, 7.165876079), align=None)
        Polygon((34.432080312, 6.67194594), (34.097414224, 6.023830859), (33.799482778, 6.67194594), (34.205026004, 7.165876079), align=None)
        Polygon((33.432080312, 6.67194594), (33.097414224, 6.023830859), (32.799482778, 6.67194594), (33.205026004, 7.165876079), align=None)
        Polygon((32.432080312, 6.67194594), (32.097414224, 6.023830859), (31.799482778, 6.67194594), (32.209344848, 7.15648094), align=None)
        Polygon((31.432080312, 6.67194594), (31.097414224, 6.023830859), (30.799482778, 6.67194594), (31.097414224, 6.955035779), align=None)
        Polygon((30.432080312, 6.67194594), (30.097414224, 6.023830859), (29.799482778, 6.67194594), (30.166939204, 7.248729466), align=None)
    extrude(amount=-ENL_V_MAT_EXTRU_3_DEPTH, mode=Mode.SUBTRACT)

    # Esquisse7 → Enlèv. mat.-Extru.4 (cut)
    with BuildSketch(Plane(origin=(0, 9, 0), x_dir=(1, 0, 0), z_dir=(0, 1, 0))):
        with Locations(Location((38, 0, 0), (0, 0, 270))):
            Circle(ESQUISSE7_R)
    extrude(amount=-ENL_V_MAT_EXTRU_4_DEPTH, mode=Mode.SUBTRACT)


solid = part.part
